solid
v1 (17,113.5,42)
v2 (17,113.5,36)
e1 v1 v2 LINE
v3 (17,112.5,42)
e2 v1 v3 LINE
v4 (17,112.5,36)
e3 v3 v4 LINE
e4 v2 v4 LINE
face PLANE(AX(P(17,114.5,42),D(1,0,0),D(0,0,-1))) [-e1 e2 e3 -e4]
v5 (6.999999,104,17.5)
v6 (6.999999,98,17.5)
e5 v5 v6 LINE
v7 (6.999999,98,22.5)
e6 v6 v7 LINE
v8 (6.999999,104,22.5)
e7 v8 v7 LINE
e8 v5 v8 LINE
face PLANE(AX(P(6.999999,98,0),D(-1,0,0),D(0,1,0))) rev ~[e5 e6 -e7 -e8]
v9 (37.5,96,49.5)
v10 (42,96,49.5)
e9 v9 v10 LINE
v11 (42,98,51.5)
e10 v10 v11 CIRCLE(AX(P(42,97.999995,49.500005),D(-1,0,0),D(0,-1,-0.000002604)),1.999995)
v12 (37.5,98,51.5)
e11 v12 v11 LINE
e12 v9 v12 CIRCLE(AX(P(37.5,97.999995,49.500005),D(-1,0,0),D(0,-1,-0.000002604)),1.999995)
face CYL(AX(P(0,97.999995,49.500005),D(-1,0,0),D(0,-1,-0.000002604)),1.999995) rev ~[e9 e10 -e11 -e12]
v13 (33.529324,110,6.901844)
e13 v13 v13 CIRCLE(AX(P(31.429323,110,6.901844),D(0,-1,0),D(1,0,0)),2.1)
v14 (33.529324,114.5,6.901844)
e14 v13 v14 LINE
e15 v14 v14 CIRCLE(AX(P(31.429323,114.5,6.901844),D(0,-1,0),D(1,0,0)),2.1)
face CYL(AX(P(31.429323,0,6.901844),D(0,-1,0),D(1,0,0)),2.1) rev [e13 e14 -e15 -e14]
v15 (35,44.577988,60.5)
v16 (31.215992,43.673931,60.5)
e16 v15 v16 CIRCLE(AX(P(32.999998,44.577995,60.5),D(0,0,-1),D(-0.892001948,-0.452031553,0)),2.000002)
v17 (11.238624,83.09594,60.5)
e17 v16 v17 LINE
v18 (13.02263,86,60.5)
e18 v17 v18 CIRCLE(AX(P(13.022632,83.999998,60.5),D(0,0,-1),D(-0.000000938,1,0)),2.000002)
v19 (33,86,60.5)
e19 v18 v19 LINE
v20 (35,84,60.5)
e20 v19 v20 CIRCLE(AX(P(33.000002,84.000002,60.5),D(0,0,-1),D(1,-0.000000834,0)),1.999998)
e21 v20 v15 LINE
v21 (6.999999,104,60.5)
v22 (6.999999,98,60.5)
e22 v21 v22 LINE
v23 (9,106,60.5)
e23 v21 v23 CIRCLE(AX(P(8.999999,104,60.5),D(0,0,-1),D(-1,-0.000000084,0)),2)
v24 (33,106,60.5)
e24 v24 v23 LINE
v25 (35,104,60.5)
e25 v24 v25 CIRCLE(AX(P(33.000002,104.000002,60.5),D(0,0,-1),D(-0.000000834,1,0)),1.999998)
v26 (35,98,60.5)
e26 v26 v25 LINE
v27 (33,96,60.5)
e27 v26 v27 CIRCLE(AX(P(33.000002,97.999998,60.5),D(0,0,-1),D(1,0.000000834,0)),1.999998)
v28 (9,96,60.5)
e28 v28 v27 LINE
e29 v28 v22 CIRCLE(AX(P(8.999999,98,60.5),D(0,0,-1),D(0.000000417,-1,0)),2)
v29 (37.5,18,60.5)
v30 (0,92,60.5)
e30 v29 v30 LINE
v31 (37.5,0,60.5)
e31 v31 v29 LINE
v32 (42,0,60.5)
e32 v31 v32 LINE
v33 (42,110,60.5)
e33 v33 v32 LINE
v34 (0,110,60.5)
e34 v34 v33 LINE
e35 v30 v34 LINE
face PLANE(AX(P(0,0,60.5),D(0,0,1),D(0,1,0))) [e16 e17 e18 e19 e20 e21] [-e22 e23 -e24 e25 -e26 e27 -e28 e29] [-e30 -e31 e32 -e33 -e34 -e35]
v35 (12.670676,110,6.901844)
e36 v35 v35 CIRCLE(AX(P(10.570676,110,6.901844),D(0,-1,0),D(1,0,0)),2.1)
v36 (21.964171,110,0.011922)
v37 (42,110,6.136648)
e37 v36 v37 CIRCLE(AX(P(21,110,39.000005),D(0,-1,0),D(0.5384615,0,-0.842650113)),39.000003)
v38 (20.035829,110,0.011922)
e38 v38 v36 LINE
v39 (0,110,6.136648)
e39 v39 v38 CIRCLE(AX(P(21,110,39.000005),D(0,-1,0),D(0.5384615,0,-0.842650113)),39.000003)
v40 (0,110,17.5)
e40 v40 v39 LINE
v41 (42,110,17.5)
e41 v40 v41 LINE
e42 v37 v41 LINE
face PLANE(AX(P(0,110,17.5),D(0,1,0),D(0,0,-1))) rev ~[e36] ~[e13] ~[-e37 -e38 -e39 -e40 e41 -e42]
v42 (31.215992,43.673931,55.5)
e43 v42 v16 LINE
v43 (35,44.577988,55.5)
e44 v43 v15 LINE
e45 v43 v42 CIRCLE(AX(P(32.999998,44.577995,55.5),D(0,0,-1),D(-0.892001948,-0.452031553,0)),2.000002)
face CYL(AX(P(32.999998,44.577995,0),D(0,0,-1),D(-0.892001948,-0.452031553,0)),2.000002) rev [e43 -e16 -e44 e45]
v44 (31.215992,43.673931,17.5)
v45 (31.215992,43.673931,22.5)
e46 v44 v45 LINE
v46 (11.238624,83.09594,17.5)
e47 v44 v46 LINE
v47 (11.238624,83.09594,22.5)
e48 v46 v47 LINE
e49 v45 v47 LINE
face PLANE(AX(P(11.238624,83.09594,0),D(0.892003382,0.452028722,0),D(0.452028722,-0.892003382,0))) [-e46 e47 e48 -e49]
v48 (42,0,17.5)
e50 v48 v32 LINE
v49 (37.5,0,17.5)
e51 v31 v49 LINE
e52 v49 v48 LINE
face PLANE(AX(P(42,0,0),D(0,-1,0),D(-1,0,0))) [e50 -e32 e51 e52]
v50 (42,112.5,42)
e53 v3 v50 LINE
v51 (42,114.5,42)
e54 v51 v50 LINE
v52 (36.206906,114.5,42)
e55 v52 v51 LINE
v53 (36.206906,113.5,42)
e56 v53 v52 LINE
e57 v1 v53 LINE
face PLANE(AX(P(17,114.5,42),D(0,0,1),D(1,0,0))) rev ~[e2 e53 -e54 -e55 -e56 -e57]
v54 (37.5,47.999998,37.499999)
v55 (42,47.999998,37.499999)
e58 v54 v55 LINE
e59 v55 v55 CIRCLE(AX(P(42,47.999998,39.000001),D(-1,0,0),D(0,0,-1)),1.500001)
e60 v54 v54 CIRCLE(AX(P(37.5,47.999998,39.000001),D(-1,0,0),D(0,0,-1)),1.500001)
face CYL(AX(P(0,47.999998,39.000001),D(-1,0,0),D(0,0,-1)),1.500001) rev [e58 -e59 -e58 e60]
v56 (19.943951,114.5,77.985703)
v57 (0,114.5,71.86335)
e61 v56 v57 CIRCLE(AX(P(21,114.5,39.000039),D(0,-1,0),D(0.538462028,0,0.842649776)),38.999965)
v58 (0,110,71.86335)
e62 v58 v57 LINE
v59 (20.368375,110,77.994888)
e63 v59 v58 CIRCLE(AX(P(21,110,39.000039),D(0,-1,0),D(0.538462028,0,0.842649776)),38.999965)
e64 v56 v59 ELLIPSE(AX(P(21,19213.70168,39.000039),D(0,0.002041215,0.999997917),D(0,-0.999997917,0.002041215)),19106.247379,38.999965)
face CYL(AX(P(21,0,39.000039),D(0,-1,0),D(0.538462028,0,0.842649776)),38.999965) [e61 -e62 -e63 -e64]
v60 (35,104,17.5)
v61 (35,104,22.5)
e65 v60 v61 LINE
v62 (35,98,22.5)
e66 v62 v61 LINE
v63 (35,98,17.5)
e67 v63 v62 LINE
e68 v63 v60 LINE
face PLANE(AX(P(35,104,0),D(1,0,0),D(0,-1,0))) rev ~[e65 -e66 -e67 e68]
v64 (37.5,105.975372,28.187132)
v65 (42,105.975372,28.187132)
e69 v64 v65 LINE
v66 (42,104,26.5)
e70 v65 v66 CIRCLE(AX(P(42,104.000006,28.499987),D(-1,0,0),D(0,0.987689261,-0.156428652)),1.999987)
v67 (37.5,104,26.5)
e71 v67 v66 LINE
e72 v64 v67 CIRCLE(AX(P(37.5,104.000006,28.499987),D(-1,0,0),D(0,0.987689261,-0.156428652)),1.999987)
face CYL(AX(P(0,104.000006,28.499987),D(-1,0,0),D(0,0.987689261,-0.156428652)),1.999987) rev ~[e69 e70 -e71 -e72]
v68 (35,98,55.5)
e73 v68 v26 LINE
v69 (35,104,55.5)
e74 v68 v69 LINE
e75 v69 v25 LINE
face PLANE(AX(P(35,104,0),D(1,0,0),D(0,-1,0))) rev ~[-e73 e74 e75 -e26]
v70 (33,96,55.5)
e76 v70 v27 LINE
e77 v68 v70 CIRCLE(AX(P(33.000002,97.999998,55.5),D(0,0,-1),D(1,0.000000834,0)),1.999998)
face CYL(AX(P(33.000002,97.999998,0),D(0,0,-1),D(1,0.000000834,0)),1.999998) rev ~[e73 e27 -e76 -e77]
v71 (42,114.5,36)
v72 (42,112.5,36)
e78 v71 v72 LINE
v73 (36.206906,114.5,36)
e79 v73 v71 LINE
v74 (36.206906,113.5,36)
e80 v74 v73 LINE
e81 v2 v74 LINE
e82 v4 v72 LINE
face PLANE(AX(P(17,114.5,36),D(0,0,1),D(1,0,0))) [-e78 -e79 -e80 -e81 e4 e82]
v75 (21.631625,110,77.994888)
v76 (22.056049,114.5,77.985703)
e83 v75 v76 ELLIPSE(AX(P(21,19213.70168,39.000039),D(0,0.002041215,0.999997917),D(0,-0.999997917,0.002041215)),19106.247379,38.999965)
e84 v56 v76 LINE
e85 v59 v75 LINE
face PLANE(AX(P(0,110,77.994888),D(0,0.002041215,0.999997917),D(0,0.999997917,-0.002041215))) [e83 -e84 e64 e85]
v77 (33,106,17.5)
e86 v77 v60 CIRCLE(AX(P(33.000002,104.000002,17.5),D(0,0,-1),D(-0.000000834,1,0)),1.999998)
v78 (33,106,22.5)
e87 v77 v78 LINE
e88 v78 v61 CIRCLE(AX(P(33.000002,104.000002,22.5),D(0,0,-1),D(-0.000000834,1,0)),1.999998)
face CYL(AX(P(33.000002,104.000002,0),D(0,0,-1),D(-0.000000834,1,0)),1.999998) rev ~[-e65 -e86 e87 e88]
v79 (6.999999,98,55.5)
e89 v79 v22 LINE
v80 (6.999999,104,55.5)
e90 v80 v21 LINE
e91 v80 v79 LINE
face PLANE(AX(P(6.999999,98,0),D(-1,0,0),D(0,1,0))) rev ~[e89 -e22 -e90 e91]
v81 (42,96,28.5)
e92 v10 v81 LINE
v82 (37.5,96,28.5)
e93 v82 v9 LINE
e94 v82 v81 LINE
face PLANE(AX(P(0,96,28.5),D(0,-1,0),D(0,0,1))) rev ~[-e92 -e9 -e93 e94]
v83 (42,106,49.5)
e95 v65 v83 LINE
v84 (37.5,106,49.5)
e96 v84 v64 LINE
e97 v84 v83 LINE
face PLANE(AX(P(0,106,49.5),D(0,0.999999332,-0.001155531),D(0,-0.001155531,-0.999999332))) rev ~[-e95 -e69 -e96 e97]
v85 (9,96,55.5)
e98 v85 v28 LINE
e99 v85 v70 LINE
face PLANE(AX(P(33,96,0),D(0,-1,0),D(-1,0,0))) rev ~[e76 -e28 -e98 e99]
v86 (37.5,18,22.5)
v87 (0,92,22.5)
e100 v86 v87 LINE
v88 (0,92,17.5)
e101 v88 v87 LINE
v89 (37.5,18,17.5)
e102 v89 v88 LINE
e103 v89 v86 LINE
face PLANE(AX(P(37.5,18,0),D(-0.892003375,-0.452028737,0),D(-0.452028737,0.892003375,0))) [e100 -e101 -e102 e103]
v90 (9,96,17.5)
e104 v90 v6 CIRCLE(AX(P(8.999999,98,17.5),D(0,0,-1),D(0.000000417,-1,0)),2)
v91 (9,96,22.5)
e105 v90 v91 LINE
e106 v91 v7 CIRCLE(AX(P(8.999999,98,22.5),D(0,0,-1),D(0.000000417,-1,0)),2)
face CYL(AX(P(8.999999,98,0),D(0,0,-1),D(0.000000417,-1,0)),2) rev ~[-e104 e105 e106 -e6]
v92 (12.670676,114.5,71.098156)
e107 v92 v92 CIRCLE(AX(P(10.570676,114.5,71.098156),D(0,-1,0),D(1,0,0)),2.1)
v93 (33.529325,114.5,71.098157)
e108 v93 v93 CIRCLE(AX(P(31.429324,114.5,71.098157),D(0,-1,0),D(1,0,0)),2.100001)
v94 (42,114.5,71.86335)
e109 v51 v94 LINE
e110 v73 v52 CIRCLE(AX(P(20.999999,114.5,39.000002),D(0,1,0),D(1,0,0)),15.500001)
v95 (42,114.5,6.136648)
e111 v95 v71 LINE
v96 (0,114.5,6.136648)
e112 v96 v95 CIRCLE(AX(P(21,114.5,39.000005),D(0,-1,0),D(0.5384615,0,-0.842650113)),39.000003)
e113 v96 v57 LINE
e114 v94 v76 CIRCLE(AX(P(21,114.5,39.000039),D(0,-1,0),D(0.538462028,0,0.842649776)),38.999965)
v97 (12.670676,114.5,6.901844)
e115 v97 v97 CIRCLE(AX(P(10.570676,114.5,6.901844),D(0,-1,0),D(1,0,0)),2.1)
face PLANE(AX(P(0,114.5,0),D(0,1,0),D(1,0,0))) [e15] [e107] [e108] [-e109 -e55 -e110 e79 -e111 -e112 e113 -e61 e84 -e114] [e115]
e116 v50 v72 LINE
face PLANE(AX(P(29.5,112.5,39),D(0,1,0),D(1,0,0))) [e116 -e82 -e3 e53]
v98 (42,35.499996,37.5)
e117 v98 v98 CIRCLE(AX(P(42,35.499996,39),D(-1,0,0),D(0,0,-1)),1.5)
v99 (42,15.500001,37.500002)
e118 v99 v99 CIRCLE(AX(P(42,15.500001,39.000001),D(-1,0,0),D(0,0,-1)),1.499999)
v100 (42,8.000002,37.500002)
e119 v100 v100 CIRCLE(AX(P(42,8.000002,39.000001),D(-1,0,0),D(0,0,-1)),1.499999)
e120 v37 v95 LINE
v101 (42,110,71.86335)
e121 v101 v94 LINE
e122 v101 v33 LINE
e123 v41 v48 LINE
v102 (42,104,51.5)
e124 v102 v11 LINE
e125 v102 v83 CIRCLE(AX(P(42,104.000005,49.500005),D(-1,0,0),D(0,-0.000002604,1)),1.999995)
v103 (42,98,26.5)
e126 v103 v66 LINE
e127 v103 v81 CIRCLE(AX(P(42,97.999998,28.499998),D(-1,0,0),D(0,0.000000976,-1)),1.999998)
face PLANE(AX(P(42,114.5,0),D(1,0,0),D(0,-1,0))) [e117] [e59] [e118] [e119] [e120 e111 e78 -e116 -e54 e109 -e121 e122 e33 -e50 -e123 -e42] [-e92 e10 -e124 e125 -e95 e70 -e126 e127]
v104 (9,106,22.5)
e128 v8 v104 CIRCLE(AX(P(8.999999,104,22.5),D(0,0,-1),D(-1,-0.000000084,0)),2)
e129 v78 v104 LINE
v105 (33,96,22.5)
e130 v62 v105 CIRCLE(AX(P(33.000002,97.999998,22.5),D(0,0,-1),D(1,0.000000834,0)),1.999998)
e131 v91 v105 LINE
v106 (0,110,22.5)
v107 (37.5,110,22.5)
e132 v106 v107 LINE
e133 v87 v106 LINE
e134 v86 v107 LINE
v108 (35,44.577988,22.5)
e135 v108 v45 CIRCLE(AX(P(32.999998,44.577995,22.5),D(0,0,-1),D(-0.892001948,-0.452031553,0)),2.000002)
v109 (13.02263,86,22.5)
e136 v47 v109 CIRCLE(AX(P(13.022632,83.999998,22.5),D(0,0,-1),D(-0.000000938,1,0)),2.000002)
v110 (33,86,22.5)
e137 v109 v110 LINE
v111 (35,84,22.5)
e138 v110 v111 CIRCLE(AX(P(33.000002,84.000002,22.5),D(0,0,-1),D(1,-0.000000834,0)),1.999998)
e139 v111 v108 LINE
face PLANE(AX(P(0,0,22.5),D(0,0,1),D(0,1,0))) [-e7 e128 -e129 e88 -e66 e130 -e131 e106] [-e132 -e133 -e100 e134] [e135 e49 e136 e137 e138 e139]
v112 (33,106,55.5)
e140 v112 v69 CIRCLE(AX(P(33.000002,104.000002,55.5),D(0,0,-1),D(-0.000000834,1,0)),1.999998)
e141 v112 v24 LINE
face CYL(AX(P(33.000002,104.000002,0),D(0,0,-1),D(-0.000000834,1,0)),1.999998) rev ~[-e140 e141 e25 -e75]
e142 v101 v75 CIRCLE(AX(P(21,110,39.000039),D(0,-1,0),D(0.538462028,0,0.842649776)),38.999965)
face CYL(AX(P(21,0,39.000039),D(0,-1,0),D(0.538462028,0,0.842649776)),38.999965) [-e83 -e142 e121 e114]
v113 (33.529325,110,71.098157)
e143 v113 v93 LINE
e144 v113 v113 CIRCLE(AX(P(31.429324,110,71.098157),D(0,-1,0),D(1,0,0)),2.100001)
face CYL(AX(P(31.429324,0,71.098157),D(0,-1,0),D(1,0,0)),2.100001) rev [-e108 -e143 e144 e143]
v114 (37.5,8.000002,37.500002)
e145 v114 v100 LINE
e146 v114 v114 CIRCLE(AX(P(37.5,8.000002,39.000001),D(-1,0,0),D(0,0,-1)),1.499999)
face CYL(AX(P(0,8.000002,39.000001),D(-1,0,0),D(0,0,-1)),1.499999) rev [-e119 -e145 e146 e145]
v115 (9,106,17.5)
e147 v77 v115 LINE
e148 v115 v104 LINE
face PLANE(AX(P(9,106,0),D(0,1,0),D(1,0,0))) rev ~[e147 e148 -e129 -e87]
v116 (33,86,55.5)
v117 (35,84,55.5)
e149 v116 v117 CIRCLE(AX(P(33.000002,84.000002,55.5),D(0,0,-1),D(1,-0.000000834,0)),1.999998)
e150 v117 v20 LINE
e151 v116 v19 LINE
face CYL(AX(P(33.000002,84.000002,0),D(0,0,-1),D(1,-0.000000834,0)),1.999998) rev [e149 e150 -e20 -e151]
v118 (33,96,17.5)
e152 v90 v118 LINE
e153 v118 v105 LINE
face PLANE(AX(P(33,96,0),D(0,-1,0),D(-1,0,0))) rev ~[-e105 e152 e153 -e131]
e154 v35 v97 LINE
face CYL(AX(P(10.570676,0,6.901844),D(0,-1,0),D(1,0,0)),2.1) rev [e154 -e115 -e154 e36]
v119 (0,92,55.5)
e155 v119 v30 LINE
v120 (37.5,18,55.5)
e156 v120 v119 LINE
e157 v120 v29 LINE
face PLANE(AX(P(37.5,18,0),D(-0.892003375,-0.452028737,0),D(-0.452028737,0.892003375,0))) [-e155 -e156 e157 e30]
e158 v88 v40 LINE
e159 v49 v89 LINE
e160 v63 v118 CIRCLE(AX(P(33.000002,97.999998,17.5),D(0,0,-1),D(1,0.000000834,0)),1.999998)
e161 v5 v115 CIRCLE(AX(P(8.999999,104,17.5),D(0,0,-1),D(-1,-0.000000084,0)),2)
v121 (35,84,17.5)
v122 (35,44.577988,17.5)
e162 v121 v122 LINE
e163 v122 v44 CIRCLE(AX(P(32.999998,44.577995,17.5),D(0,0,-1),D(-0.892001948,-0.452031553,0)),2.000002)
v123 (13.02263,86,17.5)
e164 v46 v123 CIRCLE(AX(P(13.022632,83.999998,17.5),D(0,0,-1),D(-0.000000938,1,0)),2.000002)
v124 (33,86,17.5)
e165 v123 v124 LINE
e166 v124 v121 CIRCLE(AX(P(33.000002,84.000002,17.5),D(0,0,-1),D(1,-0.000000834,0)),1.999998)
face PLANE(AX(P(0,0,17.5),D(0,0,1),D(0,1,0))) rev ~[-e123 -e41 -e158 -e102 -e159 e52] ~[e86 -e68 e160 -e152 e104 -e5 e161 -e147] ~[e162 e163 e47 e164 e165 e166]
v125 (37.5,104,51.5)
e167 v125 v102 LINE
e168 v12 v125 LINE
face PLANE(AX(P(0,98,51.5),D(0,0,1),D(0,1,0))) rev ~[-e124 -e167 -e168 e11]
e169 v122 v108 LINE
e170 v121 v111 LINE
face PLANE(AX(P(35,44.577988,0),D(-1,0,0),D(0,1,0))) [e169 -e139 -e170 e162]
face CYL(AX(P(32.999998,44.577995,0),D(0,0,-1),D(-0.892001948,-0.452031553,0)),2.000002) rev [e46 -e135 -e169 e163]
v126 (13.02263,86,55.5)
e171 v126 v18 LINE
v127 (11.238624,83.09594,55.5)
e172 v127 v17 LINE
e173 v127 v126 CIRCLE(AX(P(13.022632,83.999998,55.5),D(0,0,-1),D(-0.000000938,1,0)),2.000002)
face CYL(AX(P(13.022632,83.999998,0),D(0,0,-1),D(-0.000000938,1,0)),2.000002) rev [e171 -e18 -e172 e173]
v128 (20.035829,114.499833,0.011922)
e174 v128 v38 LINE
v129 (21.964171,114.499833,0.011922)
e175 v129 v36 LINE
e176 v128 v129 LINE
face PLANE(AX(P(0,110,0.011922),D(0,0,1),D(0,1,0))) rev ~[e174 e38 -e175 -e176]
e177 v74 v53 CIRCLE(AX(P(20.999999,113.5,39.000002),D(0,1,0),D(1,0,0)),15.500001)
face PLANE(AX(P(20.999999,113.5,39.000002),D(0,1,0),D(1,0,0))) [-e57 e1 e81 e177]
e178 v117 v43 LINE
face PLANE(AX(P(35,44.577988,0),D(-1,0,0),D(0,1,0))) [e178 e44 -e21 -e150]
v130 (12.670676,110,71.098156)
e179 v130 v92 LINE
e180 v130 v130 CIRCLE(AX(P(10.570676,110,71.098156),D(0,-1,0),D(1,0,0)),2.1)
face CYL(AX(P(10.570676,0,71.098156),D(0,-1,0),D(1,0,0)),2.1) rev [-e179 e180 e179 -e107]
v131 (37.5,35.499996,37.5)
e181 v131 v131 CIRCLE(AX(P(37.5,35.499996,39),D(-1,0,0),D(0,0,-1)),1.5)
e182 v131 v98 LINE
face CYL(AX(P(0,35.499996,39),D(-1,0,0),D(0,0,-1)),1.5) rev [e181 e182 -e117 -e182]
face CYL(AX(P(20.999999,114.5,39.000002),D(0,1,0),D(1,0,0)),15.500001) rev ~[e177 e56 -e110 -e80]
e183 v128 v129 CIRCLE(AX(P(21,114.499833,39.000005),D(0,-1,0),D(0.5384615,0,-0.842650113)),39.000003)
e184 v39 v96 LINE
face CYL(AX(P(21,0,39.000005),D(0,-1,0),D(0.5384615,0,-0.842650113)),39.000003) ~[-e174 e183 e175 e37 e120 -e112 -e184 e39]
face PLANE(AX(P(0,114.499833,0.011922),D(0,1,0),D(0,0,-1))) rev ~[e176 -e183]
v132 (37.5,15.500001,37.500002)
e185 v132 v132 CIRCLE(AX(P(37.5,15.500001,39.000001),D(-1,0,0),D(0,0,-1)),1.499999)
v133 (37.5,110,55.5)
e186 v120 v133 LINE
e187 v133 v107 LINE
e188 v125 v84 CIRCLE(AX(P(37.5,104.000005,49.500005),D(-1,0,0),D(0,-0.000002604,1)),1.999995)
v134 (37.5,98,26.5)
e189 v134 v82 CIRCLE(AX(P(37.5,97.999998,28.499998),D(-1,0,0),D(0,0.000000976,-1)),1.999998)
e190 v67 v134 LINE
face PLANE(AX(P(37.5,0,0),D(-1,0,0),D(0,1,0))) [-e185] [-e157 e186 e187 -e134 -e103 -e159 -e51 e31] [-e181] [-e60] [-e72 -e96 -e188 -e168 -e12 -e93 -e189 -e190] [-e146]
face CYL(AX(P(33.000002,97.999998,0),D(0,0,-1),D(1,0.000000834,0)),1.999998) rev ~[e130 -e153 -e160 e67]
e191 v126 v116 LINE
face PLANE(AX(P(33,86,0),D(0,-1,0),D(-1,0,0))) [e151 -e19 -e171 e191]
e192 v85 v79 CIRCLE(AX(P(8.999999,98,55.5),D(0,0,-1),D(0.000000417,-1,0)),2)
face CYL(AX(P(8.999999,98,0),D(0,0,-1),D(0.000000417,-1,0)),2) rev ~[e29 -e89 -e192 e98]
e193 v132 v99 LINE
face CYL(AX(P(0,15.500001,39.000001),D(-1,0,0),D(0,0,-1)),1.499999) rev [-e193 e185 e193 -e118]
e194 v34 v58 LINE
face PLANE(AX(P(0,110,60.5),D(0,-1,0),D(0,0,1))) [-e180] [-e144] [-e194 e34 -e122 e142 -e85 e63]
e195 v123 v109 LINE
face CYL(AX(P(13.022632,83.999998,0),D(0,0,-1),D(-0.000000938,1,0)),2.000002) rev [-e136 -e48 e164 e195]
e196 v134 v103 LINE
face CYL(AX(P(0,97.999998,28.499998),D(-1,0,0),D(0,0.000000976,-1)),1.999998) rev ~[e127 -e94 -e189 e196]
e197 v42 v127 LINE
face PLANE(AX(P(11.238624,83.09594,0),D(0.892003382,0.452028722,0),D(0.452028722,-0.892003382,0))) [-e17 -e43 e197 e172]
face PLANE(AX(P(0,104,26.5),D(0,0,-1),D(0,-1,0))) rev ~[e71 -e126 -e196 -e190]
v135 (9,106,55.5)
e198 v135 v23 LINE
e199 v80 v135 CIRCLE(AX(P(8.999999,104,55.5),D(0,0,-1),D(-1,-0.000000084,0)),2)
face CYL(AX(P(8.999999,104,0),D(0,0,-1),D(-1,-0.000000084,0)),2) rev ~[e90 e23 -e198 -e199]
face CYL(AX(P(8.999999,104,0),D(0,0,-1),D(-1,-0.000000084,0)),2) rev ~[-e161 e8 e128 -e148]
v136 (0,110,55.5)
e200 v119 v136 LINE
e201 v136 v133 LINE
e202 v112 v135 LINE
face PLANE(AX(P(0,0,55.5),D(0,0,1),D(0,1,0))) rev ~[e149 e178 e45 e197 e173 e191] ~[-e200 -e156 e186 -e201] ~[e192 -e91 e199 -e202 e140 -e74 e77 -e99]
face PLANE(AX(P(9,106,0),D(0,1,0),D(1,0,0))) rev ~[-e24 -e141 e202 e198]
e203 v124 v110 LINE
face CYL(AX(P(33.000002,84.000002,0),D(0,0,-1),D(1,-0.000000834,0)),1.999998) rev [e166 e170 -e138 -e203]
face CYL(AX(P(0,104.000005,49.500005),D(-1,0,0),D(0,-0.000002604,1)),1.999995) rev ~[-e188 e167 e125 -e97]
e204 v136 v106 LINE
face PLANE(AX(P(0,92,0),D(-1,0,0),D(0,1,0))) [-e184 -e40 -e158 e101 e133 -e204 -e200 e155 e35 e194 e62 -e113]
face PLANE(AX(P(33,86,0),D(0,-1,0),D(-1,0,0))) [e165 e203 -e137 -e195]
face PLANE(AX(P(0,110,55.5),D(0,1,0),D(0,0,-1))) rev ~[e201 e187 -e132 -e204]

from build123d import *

# Parameters (mm, degrees)
BOSS_EXTRUDE1_DEPTH     = 80
SKETCH2_W               = 33
SKETCH2_H               = 110
CUT_EXTRUDE2_DEPTH      = 37.5
CUT_EXTRUDE6_DEPTH      = 55.5
SKETCH7_R               = 1.5000015
SKETCH7_R_2             = 1.499999754
SKETCH7_R_3             = 1.499999424
SKETCH7_R_4             = 1.499998917
CUT_EXTRUDE8_DEPTH      = 43
CUT_EXTRUDE8_DEPTH_BACK = 55.5
CUT_EXTRUDE9_DEPTH      = 110.5
CUT_EXTRUDE10_DEPTH     = 196.5
SKETCH11_R              = 2.10000039
SKETCH11_R_2            = 2.100000448
SKETCH11_R_3            = 2.1000011
SKETCH11_R_4            = 2.099999964
CUT_EXTRUDE11_DEPTH     = 196.5
CUT_EXTRUDE12_START     = 114.5
SKETCH12_R              = 15.500000658
CUT_EXTRUDE12_DEPTH     = 1
CUT_EXTRUDE13_START     = 114.5
SKETCH13_W              = 25
SKETCH13_H              = 6
CUT_EXTRUDE13_DEPTH     = 2


with BuildPart() as part:
    # Sketch1 → Boss-Extrude1 (new body)
    with BuildSketch(Plane.XY):
        Polygon((0, 114.5), (42, 114.5), (42, 0), (37.5, 0), (37.5, 18), (0, 92), align=None)
    extrude(amount=BOSS_EXTRUDE1_DEPTH)

    # Sketch2 → Cut-Extrude2 (cut)
    with BuildSketch(Plane(origin=(0, 0, 0), x_dir=(0, 0, -1), z_dir=(1, 0, 0))):
        with Locations((-39, 55)):
            Rectangle(SKETCH2_W, SKETCH2_H)
    extrude(amount=CUT_EXTRUDE2_DEPTH, mode=Mode.SUBTRACT)

    # Sketch6 → Cut-Extrude6 (cut)
    with BuildSketch(Plane(origin=(0, 0, 0), x_dir=(0, 0, -1), z_dir=(1, 0, 0))):
        Polygon((-17.5, 110), (-0.011922265, 110), (-0.011922265, 114.499832966), (14.004945748, 114.499832966), (14.004945748, 0), (-17.5, 0), align=None)
        Polygon((-60.5, 110), (-77.994888003, 110), (-77.985702515, 114.5), (-108.593167203, 114.5), (-108.593167203, 0), (-60.5, 0), align=None)
    extrude(amount=CUT_EXTRUDE6_DEPTH, mode=Mode.SUBTRACT)

    # Sketch7 → Cut-Extrude8 (cut, two sides)
    with BuildSketch(Plane(origin=(0, 0, 0), x_dir=(0, 0, -1), z_dir=(1, 0, 0))) as cut_extrude8_sk:
        with Locations((-39.000000948, 47.999997685)):
            Circle(SKETCH7_R)
        with Locations((-39, 35.499996297)):
            Circle(SKETCH7_R_2)
        with Locations((-39.000001283, 8.000001659)):
            Circle(SKETCH7_R_3)
        with Locations((-39.000000539, 15.500000933)):
            Circle(SKETCH7_R_4)
        with BuildLine():
            Line((-49.5, 106), (-28.187131882, 105.975372314))
            ThreePointArc((-28.187131882, 105.975372314), (-26.979186724, 105.298896246), (-26.5, 104))
            Line((-26.5, 104), (-26.5, 98))
            ThreePointArc((-26.5, 98), (-27.085785866, 96.585785866), (-28.5, 96))
            Line((-28.5, 96), (-49.5, 96))
            ThreePointArc((-49.5, 96), (-50.914215088, 96.585784912), (-51.5, 98))
            Line((-51.5, 98), (-51.5, 104))
            ThreePointArc((-51.5, 104), (-50.914215088, 105.414215088), (-49.5, 106))
        make_face()
    extrude(amount=CUT_EXTRUDE8_DEPTH, mode=Mode.SUBTRACT)
    extrude(cut_extrude8_sk.sketch, amount=-CUT_EXTRUDE8_DEPTH_BACK, mode=Mode.SUBTRACT)

    # Sketch8 → Cut-Extrude9 (cut)
    with BuildSketch(Plane.XY):
        with BuildLine():
            Line((33, 86), (13.022629738, 86))
            ThreePointArc((13.022629738, 86), (11.318500031, 85.046870918), (11.238623619, 83.095939636))
            Line((11.238623619, 83.095939636), (31.215991974, 43.673931122))
            ThreePointArc((31.215991974, 43.673931122), (33.464748466, 42.632740588), (35, 44.577987671))
            Line((35, 44.577987671), (35, 84))
            ThreePointArc((35, 84), (34.414214051, 85.414214051), (33, 86))
        make_face()
        with BuildLine():
            Line((9, 106), (33, 106))
            ThreePointArc((33, 106), (34.414214051, 105.414214051), (35, 104))
            Line((35, 104), (35, 98))
            ThreePointArc((35, 98), (34.414214051, 96.585785949), (33, 96))
            Line((33, 96), (9, 96))
            ThreePointArc((9, 96), (7.585785856, 96.585786135), (6.999999046, 98))
            Line((6.999999046, 98), (6.999999046, 104))
            ThreePointArc((6.999999046, 104), (7.585785772, 105.414213949), (9, 106))
        make_face()
    extrude(amount=CUT_EXTRUDE9_DEPTH, mode=Mode.SUBTRACT)

    # Sketch10 → Cut-Extrude10 (cut)
    with BuildSketch(Plane(origin=(0, 0, 0), x_dir=(1, 0, 0), z_dir=(0, 1, 0))):
        with BuildLine():
            Line((0, -6.136648178), (0, 15.4695464))
            Line((0, 15.4695464), (11.339564335, 15.4695464))
            Line((11.339564335, 15.4695464), (42, 15.4695464))
            Line((42, 15.4695464), (42, -6.136648178))
            ThreePointArc((42, -6.136648178), (21, -2.155e-06), (0, -6.136648178))
        make_face()
        with BuildLine():
            Line((0, -71.863349915), (0, -99.275377961))
            Line((0, -99.275377961), (42, -99.275377961))
            Line((42, -99.275377961), (42, -71.863349915))
            ThreePointArc((42, -71.863349915), (21, -78.000003087), (0, -71.863349915))
        make_face()
    extrude(amount=CUT_EXTRUDE10_DEPTH, mode=Mode.SUBTRACT)

    # Sketch11 → Cut-Extrude11 (cut)
    with BuildSketch(Plane(origin=(0, 0, 0), x_dir=(1, 0, 0), z_dir=(0, 1, 0))):
        with Locations((10.570675656, -6.901843556)):
            Circle(SKETCH11_R)
        with Locations((31.429323256, -6.901843615)):
            Circle(SKETCH11_R_2)
        with Locations((31.429323915, -71.098157164)):
            Circle(SKETCH11_R_3)
        with Locations((10.570676027, -71.098155911)):
            Circle(SKETCH11_R_4)
    extrude(amount=CUT_EXTRUDE11_DEPTH, mode=Mode.SUBTRACT)

    # Sketch12 → Cut-Extrude12 (cut)
    with BuildSketch(Plane(origin=(0, 0, 0), x_dir=(1, 0, 0), z_dir=(0, 1, 0)).offset(CUT_EXTRUDE12_START)):
        with Locations((20.999998985, -39.000002134)):
            Circle(SKETCH12_R)
    extrude(amount=-CUT_EXTRUDE12_DEPTH, mode=Mode.SUBTRACT)

    # Sketch13 → Cut-Extrude13 (cut)
    with BuildSketch(Plane(origin=(0, 0, 0), x_dir=(1, 0, 0), z_dir=(0, 1, 0)).offset(CUT_EXTRUDE13_START)):
        with Locations((29.5, -39)):
            Rectangle(SKETCH13_W, SKETCH13_H)
    extrude(amount=-CUT_EXTRUDE13_DEPTH, mode=Mode.SUBTRACT)


solid = part.part
